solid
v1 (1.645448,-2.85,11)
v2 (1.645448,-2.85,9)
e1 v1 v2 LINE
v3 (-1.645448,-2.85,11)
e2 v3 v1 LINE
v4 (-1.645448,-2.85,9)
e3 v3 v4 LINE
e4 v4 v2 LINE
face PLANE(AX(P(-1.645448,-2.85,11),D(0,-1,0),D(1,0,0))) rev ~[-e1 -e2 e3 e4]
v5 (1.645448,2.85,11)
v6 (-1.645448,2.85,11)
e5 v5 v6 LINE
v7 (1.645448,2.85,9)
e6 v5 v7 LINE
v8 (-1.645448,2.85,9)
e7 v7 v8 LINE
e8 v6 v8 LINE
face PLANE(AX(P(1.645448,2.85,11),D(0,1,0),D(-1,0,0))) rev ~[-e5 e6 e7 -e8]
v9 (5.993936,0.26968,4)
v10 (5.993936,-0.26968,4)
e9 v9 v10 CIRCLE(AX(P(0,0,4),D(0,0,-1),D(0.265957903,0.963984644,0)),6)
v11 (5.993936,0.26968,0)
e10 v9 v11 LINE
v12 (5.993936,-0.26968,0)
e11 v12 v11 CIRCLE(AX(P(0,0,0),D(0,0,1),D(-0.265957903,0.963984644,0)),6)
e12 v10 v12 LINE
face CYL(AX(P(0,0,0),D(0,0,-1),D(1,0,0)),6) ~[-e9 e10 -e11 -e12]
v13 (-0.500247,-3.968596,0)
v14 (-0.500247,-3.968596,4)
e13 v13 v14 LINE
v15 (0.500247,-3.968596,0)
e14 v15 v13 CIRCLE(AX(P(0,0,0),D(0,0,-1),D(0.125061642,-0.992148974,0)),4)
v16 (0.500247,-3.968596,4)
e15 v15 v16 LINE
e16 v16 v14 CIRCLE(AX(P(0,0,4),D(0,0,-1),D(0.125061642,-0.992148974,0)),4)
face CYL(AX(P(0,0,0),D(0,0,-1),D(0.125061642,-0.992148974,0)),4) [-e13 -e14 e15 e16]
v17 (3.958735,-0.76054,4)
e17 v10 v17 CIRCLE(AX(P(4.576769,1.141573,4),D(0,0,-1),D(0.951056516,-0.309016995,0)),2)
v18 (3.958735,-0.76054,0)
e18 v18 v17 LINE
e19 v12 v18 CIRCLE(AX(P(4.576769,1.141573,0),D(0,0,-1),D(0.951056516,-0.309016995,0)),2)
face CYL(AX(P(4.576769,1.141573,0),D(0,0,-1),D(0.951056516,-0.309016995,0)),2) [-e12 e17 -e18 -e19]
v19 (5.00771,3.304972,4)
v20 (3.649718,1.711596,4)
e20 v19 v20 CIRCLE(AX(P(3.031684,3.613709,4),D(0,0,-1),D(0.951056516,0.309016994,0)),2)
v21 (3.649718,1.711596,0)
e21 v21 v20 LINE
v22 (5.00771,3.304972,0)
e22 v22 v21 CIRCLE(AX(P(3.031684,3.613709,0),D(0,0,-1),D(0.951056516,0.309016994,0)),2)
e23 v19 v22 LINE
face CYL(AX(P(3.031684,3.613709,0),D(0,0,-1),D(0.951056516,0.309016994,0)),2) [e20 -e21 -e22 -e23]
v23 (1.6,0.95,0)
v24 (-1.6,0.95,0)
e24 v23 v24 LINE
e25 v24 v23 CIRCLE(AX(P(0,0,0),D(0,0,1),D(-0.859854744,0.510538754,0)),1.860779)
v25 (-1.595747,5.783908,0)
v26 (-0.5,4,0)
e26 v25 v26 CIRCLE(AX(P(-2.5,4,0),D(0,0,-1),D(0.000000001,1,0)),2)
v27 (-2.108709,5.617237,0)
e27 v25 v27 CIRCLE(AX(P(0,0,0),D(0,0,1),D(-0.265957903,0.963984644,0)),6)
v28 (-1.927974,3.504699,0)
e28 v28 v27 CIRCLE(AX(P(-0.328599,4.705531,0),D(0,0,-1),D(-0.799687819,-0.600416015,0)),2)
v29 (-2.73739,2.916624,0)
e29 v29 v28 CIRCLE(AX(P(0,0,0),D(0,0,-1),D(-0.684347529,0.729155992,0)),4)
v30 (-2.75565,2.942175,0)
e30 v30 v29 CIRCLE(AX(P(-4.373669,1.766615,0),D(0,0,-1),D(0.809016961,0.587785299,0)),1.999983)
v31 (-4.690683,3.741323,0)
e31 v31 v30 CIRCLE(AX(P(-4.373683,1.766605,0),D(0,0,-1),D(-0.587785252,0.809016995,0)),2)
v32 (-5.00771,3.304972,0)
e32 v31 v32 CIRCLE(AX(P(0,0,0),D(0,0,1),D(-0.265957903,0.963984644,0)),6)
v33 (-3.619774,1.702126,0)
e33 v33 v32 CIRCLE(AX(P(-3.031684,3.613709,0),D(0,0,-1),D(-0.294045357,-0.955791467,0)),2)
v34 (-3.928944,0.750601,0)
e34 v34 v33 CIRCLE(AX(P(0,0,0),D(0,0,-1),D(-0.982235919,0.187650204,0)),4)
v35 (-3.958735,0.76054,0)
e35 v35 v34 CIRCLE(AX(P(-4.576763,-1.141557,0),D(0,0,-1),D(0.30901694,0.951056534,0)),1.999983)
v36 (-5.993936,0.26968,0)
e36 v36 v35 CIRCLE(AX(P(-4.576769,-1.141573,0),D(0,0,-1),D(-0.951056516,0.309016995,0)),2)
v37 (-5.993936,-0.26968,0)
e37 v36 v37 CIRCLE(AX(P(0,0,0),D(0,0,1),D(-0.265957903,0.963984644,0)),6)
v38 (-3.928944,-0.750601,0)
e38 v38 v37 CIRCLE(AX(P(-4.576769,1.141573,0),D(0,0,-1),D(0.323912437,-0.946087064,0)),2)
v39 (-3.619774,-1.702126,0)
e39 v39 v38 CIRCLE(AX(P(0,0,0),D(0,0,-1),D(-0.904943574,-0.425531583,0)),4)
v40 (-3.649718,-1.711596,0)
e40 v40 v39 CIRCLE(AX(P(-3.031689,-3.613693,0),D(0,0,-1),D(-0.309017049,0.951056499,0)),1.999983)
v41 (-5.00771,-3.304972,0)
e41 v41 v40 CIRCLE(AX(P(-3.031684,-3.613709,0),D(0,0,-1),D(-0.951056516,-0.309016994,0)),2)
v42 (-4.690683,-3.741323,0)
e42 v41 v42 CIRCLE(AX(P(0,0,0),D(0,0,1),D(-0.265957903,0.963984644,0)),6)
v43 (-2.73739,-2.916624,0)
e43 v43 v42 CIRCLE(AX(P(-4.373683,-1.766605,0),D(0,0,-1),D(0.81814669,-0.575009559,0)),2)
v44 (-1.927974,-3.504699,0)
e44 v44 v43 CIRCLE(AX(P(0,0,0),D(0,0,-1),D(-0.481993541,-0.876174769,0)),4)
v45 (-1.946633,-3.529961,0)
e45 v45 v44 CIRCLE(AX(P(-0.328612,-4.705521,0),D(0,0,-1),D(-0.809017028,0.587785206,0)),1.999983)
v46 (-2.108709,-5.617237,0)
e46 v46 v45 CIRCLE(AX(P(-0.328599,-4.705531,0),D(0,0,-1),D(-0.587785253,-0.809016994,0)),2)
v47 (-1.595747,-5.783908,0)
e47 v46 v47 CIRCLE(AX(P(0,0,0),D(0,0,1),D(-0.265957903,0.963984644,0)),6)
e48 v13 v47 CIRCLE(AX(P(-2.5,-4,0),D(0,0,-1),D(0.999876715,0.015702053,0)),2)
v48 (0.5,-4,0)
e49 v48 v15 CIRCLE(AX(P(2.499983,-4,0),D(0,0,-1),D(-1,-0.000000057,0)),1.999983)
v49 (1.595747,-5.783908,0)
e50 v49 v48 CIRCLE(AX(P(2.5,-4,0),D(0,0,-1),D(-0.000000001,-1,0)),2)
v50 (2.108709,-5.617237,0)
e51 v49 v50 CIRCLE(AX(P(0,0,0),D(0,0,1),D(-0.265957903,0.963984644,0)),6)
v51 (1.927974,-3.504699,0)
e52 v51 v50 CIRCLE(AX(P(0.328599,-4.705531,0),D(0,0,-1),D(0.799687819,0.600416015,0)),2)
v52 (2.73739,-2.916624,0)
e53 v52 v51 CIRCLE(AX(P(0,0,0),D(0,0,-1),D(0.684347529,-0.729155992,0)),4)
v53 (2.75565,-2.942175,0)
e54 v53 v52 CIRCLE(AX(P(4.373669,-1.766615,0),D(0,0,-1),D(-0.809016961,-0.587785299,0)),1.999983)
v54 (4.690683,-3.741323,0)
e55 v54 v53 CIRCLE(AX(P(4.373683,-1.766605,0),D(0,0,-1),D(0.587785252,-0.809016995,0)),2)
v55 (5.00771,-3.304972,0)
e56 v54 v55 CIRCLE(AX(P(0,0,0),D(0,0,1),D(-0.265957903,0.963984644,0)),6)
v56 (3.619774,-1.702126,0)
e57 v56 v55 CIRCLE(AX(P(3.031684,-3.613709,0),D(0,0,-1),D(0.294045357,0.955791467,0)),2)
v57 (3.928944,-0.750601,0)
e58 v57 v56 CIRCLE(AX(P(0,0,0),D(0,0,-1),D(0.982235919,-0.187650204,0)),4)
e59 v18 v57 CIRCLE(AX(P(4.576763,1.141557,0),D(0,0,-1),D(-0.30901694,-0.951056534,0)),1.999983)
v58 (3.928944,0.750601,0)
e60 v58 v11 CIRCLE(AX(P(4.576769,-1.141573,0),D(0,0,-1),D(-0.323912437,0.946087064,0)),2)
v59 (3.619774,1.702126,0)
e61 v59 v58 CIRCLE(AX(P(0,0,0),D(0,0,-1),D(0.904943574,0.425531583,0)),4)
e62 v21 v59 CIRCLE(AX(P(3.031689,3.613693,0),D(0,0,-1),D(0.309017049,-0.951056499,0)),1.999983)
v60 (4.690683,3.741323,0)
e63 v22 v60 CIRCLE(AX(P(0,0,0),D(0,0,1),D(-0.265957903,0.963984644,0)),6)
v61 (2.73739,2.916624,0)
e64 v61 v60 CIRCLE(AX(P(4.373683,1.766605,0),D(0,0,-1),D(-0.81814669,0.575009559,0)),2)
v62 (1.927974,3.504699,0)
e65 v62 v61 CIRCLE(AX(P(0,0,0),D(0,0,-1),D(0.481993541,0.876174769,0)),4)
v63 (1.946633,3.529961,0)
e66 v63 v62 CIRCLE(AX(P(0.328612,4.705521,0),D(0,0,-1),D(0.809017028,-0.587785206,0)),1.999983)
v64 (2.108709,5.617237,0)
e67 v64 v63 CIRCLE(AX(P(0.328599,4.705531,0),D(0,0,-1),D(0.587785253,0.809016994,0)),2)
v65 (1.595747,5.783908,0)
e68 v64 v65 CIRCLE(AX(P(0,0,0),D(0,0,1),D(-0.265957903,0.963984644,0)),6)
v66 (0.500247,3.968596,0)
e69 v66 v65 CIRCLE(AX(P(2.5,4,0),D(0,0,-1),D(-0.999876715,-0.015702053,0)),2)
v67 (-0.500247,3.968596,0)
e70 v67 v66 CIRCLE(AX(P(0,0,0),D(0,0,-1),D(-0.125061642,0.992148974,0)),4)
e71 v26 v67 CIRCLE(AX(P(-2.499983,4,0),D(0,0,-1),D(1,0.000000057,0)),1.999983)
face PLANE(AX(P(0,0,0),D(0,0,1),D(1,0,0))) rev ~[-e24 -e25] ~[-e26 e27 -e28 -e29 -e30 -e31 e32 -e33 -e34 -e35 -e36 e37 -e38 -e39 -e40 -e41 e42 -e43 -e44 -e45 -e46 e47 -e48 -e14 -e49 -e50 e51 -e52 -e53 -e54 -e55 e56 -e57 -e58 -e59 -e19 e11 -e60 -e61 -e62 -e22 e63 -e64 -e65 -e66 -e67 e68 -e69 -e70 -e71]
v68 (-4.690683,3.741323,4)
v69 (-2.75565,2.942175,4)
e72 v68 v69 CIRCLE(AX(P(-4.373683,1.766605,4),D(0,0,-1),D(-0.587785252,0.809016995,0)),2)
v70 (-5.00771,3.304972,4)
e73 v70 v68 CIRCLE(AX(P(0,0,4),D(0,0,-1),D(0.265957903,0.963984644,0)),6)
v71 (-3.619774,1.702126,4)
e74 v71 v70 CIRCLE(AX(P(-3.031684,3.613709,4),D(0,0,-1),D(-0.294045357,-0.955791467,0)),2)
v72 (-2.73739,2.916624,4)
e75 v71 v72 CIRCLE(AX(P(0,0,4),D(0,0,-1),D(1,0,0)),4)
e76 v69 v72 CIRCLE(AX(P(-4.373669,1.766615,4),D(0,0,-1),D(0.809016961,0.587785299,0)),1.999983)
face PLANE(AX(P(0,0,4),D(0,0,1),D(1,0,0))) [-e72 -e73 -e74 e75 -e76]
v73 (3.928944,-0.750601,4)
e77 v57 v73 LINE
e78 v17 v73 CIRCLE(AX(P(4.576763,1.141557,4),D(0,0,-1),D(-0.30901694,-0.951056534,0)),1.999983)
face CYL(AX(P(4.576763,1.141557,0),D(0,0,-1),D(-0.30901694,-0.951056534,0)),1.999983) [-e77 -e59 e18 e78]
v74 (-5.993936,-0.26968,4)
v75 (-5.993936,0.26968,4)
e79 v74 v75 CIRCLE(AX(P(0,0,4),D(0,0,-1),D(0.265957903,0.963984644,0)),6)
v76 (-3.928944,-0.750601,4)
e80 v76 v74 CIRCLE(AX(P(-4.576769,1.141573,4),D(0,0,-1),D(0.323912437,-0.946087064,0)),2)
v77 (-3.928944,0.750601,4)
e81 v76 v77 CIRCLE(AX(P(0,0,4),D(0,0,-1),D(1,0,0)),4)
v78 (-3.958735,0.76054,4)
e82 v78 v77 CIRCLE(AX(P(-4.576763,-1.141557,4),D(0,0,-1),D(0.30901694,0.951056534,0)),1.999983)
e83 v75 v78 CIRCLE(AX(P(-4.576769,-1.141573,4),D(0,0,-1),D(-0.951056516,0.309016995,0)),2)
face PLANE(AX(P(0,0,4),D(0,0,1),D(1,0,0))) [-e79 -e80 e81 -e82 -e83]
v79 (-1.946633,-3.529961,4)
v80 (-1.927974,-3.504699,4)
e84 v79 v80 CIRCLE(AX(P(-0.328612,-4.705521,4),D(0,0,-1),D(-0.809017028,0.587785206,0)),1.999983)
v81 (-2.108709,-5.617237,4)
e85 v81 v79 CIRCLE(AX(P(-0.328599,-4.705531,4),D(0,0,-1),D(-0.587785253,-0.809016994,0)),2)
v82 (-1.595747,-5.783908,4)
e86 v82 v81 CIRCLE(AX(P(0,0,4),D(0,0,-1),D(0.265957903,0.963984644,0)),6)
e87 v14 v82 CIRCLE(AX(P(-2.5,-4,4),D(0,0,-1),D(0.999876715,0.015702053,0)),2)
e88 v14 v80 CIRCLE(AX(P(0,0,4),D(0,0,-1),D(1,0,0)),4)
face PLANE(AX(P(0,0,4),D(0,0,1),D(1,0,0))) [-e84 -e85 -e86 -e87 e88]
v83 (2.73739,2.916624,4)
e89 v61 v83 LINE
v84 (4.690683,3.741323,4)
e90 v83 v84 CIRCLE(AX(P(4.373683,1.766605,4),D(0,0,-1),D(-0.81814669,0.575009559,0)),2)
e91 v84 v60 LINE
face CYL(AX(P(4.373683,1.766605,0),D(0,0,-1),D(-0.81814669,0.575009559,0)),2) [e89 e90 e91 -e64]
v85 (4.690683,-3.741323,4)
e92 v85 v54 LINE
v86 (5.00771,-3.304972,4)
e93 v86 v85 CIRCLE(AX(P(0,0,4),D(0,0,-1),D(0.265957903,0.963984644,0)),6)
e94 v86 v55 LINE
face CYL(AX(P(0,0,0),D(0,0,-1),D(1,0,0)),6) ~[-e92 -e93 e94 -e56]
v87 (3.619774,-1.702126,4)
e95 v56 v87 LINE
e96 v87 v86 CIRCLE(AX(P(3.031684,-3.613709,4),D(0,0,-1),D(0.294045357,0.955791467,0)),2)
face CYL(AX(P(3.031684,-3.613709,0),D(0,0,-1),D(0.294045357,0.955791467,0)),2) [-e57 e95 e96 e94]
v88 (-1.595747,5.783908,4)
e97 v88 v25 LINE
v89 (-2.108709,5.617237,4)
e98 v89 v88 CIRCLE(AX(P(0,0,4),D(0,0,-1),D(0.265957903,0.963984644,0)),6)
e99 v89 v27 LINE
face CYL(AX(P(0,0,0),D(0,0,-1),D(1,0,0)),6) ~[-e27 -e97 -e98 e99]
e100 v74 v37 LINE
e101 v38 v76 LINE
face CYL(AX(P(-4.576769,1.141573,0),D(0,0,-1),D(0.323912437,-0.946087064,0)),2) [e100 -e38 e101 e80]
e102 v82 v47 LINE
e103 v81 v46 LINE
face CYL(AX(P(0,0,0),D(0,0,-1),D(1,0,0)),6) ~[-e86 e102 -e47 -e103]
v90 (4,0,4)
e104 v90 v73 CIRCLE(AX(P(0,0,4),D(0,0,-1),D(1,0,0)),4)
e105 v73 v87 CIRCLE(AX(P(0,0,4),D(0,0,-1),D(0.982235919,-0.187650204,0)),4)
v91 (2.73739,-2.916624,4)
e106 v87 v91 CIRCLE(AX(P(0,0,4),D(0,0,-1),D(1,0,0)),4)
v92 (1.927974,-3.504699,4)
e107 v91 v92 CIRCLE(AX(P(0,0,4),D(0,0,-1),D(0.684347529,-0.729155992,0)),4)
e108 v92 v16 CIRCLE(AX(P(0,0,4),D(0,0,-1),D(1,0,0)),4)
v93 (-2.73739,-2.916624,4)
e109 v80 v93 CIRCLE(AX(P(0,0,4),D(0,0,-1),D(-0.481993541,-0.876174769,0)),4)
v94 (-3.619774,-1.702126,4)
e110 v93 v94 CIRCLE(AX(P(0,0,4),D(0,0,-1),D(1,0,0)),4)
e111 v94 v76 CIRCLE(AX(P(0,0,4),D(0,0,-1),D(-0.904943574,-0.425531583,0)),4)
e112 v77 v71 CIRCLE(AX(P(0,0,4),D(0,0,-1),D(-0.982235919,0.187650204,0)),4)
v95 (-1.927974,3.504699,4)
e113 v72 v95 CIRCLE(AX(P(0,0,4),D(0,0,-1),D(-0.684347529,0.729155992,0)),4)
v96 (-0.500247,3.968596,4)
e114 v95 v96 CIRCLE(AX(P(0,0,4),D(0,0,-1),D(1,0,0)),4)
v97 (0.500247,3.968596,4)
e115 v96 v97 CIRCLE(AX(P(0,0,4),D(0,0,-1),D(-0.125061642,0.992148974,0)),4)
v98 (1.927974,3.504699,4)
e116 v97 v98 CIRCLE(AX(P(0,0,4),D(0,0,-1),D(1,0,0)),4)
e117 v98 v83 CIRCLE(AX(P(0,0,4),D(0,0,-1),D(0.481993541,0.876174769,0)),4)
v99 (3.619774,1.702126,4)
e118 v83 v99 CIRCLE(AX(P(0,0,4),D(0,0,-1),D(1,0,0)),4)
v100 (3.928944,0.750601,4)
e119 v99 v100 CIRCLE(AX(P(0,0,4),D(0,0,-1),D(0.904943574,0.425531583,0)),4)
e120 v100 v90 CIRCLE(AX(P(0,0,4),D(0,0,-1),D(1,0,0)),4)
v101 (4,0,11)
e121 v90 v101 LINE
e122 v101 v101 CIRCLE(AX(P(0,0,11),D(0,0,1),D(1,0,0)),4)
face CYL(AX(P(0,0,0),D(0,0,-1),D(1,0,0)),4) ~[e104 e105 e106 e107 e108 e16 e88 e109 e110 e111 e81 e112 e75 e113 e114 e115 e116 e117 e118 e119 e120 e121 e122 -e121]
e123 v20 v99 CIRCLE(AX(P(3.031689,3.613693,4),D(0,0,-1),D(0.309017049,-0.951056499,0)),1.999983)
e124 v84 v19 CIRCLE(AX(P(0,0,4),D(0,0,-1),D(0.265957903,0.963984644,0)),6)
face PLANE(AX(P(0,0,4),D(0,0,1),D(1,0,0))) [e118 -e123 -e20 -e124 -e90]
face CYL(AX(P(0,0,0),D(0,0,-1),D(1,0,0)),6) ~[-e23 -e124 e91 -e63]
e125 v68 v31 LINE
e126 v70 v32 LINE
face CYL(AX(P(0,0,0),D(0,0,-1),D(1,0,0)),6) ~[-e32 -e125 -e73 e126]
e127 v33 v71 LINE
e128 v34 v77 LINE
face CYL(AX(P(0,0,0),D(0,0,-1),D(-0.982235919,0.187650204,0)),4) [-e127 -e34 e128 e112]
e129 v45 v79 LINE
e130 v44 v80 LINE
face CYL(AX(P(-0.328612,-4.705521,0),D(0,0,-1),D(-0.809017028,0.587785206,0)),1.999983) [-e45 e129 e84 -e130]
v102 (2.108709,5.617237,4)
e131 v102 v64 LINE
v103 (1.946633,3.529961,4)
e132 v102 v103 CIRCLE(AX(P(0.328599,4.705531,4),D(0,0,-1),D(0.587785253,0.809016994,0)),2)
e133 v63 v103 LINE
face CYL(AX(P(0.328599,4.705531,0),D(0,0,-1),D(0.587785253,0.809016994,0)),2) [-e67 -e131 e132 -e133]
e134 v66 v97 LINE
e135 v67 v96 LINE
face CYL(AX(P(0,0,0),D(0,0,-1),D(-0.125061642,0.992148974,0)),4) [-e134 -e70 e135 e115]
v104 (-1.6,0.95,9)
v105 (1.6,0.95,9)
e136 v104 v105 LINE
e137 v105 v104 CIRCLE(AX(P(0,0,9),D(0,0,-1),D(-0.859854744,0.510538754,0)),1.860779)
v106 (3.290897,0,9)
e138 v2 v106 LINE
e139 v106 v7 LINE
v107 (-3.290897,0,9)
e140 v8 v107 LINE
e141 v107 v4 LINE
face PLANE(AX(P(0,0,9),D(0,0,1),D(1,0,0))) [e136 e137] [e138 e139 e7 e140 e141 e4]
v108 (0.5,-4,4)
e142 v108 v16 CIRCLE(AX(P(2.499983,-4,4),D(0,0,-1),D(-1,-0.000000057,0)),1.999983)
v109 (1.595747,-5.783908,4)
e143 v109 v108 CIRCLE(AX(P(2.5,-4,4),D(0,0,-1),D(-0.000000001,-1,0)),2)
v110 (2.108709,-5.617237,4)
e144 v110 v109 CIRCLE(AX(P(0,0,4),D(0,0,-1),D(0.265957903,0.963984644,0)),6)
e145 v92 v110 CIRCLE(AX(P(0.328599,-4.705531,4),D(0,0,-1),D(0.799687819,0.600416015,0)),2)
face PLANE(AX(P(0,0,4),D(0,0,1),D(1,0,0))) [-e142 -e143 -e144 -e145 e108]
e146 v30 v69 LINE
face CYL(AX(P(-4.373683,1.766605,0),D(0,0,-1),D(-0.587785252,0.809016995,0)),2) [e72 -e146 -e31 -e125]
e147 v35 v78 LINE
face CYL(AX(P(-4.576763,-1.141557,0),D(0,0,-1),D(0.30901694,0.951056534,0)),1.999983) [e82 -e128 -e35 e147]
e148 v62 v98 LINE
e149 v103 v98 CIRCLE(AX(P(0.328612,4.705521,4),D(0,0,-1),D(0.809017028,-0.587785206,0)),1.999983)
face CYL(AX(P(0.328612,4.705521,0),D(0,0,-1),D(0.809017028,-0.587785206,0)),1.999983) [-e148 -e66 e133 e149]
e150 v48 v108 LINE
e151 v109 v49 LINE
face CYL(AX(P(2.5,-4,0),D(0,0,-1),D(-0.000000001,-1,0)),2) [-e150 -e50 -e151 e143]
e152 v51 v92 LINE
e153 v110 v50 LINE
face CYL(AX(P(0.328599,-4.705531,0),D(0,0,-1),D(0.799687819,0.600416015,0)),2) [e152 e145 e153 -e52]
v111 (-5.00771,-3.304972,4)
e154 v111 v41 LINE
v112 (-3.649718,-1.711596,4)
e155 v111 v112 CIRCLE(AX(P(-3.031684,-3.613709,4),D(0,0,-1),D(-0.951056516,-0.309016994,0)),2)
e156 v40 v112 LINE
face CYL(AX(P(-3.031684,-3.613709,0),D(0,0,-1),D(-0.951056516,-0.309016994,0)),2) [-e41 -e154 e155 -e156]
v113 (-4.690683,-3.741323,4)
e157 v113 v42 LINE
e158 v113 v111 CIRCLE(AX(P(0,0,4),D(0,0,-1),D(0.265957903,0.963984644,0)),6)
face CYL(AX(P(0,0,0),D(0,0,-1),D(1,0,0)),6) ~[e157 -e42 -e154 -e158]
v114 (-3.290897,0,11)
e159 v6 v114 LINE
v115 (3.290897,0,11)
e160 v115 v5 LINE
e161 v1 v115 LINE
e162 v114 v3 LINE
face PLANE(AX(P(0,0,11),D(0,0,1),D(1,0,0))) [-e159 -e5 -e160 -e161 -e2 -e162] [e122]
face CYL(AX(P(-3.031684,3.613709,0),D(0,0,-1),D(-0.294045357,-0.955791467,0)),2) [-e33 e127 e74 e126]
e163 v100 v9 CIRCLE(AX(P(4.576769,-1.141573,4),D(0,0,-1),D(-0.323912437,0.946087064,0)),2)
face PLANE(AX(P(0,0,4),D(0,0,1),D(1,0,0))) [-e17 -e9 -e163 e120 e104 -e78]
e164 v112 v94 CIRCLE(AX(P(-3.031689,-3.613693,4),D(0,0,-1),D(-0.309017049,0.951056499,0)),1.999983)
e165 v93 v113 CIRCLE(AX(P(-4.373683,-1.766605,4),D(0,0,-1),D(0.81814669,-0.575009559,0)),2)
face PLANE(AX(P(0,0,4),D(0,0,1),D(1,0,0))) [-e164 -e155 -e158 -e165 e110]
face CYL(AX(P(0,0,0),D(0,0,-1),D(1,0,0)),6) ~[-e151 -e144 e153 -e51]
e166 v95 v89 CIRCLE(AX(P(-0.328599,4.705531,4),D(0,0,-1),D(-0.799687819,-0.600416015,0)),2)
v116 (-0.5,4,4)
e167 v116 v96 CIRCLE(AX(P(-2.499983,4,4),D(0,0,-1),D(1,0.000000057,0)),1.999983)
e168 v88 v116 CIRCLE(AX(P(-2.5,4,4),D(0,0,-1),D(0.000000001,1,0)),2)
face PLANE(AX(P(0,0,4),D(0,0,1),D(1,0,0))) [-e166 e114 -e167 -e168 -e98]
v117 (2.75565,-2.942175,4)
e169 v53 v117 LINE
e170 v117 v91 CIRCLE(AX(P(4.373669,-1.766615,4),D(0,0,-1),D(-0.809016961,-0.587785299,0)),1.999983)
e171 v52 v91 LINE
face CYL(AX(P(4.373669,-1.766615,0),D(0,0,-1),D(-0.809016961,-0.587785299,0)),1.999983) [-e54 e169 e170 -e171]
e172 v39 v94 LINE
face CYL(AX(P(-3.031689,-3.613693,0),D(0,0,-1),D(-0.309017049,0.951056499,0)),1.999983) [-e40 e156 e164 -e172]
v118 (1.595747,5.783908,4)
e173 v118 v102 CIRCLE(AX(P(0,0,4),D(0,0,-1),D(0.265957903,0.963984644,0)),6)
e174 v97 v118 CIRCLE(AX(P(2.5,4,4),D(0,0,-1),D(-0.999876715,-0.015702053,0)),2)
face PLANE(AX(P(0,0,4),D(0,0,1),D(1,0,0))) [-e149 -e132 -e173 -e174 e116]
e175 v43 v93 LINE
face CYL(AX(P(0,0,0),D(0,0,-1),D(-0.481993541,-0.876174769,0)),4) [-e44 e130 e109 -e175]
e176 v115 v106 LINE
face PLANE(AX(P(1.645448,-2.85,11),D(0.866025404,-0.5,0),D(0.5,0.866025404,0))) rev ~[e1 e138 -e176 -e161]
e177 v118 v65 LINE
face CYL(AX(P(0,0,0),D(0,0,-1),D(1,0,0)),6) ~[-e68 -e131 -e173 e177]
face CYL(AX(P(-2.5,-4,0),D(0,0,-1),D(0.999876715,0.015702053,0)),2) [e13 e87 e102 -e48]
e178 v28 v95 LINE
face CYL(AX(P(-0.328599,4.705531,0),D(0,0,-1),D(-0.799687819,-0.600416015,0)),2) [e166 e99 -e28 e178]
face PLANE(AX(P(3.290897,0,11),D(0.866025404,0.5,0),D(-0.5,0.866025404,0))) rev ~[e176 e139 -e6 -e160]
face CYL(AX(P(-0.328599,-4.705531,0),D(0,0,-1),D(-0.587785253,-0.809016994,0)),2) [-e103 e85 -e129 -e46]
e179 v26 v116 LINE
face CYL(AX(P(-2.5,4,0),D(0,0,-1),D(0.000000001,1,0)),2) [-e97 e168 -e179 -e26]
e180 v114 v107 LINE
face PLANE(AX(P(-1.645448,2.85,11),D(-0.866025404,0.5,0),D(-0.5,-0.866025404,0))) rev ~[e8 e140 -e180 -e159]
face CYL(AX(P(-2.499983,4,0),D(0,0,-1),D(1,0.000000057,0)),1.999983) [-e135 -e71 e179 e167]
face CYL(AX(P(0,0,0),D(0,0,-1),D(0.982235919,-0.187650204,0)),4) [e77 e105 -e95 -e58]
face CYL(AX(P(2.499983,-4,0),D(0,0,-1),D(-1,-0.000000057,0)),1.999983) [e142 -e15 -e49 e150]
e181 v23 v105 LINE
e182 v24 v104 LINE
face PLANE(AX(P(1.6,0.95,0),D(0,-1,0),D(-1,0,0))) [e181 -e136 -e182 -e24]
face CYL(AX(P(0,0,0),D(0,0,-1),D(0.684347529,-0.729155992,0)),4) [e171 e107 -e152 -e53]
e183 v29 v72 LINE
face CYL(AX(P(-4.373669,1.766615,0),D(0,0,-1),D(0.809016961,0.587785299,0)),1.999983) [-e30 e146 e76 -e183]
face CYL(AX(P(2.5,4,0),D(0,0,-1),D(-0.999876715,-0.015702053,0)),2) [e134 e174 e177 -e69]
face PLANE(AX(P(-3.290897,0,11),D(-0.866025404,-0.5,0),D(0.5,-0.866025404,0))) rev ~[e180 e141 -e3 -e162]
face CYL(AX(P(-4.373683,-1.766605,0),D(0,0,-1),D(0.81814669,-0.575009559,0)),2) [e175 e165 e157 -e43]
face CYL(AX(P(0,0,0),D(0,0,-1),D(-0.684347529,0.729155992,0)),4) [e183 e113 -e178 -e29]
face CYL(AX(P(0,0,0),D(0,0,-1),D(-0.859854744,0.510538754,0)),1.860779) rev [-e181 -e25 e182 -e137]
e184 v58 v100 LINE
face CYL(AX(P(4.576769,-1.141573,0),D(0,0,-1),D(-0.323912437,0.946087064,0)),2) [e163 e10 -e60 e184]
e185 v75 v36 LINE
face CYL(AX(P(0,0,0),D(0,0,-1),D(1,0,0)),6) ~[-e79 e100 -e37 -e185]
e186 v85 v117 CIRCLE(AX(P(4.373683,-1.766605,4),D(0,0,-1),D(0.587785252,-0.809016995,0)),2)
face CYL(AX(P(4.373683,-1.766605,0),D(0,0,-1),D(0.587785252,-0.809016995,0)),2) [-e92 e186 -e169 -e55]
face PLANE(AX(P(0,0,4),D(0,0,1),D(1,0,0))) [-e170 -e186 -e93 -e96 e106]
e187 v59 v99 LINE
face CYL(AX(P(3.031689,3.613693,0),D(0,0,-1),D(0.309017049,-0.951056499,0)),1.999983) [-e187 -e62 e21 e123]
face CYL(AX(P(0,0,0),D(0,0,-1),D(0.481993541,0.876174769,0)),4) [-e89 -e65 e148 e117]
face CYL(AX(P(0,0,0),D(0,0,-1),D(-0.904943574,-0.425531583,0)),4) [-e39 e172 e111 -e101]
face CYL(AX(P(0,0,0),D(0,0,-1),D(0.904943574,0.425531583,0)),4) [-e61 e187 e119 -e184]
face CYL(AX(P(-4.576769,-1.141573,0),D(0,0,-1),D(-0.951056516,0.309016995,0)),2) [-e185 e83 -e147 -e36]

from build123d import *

# Parameters (mm, degrees)
SKETCH1_R           = 6
SKETCH1_R_2         = 2
BOSS_EXTRUDE1_DEPTH = 4
CUT_EXTRUDE2_DEPTH  = 10.38083152
CIRPATTERN2_COUNT   = 10
SKETCH11_R          = 4
BOSS_EXTRUDE2_DEPTH = 11
CUT_EXTRUDE3_START  = 11
CUT_EXTRUDE3_DEPTH  = 2
CUT_EXTRUDE4_DEPTH  = 14.800492389


with BuildPart() as part:
    # Sketch1 → Boss-Extrude1 (new body)
    with BuildSketch(Plane.XY):
        Circle(SKETCH1_R)
        Circle(SKETCH1_R_2, mode=Mode.SUBTRACT)
    extrude(amount=BOSS_EXTRUDE1_DEPTH)

    # Sketch4 → Cut-Extrude2 (cut, through all)
    with BuildSketch(Plane.XY):
        with BuildLine():
            ThreePointArc((-0.50024657, 3.968595894), (0, 4), (0.50024657, 3.968595894))
            ThreePointArc((0.50024657, 3.968595894), (1.074726656, 5.403066604), (2.5, 6))
            ThreePointArc((2.5, 6), (0, 6.5), (-2.5, 6))
            ThreePointArc((-2.5, 6), (-1.085786438, 5.414213562), (-0.5, 4))
            ThreePointArc((-0.5, 4), (-0.500061643, 3.984297463), (-0.50024657, 3.968595894))
        make_face()
    cut_extrude2 = extrude(amount=CUT_EXTRUDE2_DEPTH, mode=Mode.SUBTRACT)

    # CirPattern2: Cut-Extrude2 ×10 about axis
    cirpattern2_axis = Axis((0, 0, 4), (0, 0, -1))
    for i in range(1, CIRPATTERN2_COUNT):
        add(cut_extrude2.rotate(cirpattern2_axis, i * 360 / CIRPATTERN2_COUNT), mode=Mode.SUBTRACT)

    # Sketch11 → Boss-Extrude2 (add)
    with BuildSketch(Plane.XY):
        Circle(SKETCH11_R)
    extrude(amount=BOSS_EXTRUDE2_DEPTH)

    # Sketch12 → Cut-Extrude3 (cut)
    with BuildSketch(Plane.XY.offset(CUT_EXTRUDE3_START)):
        Polygon((3.290896534, 0), (1.645448267, 2.85), (-1.645448267, 2.85), (-3.290896534, 0), (-1.645448267, -2.85), (1.645448267, -2.85), align=None)
    extrude(amount=-CUT_EXTRUDE3_DEPTH, mode=Mode.SUBTRACT)

    # Sketch13 → Cut-Extrude4 (cut, through all)
    with BuildSketch(Plane.XY):
        with BuildLine():
            ThreePointArc((-1.6, 0.95), (0, -1.860779407), (1.6, 0.95))
            Line((1.6, 0.95), (-1.6, 0.95))
        make_face()
    extrude(amount=CUT_EXTRUDE4_DEPTH, mode=Mode.SUBTRACT)


solid = part.part
